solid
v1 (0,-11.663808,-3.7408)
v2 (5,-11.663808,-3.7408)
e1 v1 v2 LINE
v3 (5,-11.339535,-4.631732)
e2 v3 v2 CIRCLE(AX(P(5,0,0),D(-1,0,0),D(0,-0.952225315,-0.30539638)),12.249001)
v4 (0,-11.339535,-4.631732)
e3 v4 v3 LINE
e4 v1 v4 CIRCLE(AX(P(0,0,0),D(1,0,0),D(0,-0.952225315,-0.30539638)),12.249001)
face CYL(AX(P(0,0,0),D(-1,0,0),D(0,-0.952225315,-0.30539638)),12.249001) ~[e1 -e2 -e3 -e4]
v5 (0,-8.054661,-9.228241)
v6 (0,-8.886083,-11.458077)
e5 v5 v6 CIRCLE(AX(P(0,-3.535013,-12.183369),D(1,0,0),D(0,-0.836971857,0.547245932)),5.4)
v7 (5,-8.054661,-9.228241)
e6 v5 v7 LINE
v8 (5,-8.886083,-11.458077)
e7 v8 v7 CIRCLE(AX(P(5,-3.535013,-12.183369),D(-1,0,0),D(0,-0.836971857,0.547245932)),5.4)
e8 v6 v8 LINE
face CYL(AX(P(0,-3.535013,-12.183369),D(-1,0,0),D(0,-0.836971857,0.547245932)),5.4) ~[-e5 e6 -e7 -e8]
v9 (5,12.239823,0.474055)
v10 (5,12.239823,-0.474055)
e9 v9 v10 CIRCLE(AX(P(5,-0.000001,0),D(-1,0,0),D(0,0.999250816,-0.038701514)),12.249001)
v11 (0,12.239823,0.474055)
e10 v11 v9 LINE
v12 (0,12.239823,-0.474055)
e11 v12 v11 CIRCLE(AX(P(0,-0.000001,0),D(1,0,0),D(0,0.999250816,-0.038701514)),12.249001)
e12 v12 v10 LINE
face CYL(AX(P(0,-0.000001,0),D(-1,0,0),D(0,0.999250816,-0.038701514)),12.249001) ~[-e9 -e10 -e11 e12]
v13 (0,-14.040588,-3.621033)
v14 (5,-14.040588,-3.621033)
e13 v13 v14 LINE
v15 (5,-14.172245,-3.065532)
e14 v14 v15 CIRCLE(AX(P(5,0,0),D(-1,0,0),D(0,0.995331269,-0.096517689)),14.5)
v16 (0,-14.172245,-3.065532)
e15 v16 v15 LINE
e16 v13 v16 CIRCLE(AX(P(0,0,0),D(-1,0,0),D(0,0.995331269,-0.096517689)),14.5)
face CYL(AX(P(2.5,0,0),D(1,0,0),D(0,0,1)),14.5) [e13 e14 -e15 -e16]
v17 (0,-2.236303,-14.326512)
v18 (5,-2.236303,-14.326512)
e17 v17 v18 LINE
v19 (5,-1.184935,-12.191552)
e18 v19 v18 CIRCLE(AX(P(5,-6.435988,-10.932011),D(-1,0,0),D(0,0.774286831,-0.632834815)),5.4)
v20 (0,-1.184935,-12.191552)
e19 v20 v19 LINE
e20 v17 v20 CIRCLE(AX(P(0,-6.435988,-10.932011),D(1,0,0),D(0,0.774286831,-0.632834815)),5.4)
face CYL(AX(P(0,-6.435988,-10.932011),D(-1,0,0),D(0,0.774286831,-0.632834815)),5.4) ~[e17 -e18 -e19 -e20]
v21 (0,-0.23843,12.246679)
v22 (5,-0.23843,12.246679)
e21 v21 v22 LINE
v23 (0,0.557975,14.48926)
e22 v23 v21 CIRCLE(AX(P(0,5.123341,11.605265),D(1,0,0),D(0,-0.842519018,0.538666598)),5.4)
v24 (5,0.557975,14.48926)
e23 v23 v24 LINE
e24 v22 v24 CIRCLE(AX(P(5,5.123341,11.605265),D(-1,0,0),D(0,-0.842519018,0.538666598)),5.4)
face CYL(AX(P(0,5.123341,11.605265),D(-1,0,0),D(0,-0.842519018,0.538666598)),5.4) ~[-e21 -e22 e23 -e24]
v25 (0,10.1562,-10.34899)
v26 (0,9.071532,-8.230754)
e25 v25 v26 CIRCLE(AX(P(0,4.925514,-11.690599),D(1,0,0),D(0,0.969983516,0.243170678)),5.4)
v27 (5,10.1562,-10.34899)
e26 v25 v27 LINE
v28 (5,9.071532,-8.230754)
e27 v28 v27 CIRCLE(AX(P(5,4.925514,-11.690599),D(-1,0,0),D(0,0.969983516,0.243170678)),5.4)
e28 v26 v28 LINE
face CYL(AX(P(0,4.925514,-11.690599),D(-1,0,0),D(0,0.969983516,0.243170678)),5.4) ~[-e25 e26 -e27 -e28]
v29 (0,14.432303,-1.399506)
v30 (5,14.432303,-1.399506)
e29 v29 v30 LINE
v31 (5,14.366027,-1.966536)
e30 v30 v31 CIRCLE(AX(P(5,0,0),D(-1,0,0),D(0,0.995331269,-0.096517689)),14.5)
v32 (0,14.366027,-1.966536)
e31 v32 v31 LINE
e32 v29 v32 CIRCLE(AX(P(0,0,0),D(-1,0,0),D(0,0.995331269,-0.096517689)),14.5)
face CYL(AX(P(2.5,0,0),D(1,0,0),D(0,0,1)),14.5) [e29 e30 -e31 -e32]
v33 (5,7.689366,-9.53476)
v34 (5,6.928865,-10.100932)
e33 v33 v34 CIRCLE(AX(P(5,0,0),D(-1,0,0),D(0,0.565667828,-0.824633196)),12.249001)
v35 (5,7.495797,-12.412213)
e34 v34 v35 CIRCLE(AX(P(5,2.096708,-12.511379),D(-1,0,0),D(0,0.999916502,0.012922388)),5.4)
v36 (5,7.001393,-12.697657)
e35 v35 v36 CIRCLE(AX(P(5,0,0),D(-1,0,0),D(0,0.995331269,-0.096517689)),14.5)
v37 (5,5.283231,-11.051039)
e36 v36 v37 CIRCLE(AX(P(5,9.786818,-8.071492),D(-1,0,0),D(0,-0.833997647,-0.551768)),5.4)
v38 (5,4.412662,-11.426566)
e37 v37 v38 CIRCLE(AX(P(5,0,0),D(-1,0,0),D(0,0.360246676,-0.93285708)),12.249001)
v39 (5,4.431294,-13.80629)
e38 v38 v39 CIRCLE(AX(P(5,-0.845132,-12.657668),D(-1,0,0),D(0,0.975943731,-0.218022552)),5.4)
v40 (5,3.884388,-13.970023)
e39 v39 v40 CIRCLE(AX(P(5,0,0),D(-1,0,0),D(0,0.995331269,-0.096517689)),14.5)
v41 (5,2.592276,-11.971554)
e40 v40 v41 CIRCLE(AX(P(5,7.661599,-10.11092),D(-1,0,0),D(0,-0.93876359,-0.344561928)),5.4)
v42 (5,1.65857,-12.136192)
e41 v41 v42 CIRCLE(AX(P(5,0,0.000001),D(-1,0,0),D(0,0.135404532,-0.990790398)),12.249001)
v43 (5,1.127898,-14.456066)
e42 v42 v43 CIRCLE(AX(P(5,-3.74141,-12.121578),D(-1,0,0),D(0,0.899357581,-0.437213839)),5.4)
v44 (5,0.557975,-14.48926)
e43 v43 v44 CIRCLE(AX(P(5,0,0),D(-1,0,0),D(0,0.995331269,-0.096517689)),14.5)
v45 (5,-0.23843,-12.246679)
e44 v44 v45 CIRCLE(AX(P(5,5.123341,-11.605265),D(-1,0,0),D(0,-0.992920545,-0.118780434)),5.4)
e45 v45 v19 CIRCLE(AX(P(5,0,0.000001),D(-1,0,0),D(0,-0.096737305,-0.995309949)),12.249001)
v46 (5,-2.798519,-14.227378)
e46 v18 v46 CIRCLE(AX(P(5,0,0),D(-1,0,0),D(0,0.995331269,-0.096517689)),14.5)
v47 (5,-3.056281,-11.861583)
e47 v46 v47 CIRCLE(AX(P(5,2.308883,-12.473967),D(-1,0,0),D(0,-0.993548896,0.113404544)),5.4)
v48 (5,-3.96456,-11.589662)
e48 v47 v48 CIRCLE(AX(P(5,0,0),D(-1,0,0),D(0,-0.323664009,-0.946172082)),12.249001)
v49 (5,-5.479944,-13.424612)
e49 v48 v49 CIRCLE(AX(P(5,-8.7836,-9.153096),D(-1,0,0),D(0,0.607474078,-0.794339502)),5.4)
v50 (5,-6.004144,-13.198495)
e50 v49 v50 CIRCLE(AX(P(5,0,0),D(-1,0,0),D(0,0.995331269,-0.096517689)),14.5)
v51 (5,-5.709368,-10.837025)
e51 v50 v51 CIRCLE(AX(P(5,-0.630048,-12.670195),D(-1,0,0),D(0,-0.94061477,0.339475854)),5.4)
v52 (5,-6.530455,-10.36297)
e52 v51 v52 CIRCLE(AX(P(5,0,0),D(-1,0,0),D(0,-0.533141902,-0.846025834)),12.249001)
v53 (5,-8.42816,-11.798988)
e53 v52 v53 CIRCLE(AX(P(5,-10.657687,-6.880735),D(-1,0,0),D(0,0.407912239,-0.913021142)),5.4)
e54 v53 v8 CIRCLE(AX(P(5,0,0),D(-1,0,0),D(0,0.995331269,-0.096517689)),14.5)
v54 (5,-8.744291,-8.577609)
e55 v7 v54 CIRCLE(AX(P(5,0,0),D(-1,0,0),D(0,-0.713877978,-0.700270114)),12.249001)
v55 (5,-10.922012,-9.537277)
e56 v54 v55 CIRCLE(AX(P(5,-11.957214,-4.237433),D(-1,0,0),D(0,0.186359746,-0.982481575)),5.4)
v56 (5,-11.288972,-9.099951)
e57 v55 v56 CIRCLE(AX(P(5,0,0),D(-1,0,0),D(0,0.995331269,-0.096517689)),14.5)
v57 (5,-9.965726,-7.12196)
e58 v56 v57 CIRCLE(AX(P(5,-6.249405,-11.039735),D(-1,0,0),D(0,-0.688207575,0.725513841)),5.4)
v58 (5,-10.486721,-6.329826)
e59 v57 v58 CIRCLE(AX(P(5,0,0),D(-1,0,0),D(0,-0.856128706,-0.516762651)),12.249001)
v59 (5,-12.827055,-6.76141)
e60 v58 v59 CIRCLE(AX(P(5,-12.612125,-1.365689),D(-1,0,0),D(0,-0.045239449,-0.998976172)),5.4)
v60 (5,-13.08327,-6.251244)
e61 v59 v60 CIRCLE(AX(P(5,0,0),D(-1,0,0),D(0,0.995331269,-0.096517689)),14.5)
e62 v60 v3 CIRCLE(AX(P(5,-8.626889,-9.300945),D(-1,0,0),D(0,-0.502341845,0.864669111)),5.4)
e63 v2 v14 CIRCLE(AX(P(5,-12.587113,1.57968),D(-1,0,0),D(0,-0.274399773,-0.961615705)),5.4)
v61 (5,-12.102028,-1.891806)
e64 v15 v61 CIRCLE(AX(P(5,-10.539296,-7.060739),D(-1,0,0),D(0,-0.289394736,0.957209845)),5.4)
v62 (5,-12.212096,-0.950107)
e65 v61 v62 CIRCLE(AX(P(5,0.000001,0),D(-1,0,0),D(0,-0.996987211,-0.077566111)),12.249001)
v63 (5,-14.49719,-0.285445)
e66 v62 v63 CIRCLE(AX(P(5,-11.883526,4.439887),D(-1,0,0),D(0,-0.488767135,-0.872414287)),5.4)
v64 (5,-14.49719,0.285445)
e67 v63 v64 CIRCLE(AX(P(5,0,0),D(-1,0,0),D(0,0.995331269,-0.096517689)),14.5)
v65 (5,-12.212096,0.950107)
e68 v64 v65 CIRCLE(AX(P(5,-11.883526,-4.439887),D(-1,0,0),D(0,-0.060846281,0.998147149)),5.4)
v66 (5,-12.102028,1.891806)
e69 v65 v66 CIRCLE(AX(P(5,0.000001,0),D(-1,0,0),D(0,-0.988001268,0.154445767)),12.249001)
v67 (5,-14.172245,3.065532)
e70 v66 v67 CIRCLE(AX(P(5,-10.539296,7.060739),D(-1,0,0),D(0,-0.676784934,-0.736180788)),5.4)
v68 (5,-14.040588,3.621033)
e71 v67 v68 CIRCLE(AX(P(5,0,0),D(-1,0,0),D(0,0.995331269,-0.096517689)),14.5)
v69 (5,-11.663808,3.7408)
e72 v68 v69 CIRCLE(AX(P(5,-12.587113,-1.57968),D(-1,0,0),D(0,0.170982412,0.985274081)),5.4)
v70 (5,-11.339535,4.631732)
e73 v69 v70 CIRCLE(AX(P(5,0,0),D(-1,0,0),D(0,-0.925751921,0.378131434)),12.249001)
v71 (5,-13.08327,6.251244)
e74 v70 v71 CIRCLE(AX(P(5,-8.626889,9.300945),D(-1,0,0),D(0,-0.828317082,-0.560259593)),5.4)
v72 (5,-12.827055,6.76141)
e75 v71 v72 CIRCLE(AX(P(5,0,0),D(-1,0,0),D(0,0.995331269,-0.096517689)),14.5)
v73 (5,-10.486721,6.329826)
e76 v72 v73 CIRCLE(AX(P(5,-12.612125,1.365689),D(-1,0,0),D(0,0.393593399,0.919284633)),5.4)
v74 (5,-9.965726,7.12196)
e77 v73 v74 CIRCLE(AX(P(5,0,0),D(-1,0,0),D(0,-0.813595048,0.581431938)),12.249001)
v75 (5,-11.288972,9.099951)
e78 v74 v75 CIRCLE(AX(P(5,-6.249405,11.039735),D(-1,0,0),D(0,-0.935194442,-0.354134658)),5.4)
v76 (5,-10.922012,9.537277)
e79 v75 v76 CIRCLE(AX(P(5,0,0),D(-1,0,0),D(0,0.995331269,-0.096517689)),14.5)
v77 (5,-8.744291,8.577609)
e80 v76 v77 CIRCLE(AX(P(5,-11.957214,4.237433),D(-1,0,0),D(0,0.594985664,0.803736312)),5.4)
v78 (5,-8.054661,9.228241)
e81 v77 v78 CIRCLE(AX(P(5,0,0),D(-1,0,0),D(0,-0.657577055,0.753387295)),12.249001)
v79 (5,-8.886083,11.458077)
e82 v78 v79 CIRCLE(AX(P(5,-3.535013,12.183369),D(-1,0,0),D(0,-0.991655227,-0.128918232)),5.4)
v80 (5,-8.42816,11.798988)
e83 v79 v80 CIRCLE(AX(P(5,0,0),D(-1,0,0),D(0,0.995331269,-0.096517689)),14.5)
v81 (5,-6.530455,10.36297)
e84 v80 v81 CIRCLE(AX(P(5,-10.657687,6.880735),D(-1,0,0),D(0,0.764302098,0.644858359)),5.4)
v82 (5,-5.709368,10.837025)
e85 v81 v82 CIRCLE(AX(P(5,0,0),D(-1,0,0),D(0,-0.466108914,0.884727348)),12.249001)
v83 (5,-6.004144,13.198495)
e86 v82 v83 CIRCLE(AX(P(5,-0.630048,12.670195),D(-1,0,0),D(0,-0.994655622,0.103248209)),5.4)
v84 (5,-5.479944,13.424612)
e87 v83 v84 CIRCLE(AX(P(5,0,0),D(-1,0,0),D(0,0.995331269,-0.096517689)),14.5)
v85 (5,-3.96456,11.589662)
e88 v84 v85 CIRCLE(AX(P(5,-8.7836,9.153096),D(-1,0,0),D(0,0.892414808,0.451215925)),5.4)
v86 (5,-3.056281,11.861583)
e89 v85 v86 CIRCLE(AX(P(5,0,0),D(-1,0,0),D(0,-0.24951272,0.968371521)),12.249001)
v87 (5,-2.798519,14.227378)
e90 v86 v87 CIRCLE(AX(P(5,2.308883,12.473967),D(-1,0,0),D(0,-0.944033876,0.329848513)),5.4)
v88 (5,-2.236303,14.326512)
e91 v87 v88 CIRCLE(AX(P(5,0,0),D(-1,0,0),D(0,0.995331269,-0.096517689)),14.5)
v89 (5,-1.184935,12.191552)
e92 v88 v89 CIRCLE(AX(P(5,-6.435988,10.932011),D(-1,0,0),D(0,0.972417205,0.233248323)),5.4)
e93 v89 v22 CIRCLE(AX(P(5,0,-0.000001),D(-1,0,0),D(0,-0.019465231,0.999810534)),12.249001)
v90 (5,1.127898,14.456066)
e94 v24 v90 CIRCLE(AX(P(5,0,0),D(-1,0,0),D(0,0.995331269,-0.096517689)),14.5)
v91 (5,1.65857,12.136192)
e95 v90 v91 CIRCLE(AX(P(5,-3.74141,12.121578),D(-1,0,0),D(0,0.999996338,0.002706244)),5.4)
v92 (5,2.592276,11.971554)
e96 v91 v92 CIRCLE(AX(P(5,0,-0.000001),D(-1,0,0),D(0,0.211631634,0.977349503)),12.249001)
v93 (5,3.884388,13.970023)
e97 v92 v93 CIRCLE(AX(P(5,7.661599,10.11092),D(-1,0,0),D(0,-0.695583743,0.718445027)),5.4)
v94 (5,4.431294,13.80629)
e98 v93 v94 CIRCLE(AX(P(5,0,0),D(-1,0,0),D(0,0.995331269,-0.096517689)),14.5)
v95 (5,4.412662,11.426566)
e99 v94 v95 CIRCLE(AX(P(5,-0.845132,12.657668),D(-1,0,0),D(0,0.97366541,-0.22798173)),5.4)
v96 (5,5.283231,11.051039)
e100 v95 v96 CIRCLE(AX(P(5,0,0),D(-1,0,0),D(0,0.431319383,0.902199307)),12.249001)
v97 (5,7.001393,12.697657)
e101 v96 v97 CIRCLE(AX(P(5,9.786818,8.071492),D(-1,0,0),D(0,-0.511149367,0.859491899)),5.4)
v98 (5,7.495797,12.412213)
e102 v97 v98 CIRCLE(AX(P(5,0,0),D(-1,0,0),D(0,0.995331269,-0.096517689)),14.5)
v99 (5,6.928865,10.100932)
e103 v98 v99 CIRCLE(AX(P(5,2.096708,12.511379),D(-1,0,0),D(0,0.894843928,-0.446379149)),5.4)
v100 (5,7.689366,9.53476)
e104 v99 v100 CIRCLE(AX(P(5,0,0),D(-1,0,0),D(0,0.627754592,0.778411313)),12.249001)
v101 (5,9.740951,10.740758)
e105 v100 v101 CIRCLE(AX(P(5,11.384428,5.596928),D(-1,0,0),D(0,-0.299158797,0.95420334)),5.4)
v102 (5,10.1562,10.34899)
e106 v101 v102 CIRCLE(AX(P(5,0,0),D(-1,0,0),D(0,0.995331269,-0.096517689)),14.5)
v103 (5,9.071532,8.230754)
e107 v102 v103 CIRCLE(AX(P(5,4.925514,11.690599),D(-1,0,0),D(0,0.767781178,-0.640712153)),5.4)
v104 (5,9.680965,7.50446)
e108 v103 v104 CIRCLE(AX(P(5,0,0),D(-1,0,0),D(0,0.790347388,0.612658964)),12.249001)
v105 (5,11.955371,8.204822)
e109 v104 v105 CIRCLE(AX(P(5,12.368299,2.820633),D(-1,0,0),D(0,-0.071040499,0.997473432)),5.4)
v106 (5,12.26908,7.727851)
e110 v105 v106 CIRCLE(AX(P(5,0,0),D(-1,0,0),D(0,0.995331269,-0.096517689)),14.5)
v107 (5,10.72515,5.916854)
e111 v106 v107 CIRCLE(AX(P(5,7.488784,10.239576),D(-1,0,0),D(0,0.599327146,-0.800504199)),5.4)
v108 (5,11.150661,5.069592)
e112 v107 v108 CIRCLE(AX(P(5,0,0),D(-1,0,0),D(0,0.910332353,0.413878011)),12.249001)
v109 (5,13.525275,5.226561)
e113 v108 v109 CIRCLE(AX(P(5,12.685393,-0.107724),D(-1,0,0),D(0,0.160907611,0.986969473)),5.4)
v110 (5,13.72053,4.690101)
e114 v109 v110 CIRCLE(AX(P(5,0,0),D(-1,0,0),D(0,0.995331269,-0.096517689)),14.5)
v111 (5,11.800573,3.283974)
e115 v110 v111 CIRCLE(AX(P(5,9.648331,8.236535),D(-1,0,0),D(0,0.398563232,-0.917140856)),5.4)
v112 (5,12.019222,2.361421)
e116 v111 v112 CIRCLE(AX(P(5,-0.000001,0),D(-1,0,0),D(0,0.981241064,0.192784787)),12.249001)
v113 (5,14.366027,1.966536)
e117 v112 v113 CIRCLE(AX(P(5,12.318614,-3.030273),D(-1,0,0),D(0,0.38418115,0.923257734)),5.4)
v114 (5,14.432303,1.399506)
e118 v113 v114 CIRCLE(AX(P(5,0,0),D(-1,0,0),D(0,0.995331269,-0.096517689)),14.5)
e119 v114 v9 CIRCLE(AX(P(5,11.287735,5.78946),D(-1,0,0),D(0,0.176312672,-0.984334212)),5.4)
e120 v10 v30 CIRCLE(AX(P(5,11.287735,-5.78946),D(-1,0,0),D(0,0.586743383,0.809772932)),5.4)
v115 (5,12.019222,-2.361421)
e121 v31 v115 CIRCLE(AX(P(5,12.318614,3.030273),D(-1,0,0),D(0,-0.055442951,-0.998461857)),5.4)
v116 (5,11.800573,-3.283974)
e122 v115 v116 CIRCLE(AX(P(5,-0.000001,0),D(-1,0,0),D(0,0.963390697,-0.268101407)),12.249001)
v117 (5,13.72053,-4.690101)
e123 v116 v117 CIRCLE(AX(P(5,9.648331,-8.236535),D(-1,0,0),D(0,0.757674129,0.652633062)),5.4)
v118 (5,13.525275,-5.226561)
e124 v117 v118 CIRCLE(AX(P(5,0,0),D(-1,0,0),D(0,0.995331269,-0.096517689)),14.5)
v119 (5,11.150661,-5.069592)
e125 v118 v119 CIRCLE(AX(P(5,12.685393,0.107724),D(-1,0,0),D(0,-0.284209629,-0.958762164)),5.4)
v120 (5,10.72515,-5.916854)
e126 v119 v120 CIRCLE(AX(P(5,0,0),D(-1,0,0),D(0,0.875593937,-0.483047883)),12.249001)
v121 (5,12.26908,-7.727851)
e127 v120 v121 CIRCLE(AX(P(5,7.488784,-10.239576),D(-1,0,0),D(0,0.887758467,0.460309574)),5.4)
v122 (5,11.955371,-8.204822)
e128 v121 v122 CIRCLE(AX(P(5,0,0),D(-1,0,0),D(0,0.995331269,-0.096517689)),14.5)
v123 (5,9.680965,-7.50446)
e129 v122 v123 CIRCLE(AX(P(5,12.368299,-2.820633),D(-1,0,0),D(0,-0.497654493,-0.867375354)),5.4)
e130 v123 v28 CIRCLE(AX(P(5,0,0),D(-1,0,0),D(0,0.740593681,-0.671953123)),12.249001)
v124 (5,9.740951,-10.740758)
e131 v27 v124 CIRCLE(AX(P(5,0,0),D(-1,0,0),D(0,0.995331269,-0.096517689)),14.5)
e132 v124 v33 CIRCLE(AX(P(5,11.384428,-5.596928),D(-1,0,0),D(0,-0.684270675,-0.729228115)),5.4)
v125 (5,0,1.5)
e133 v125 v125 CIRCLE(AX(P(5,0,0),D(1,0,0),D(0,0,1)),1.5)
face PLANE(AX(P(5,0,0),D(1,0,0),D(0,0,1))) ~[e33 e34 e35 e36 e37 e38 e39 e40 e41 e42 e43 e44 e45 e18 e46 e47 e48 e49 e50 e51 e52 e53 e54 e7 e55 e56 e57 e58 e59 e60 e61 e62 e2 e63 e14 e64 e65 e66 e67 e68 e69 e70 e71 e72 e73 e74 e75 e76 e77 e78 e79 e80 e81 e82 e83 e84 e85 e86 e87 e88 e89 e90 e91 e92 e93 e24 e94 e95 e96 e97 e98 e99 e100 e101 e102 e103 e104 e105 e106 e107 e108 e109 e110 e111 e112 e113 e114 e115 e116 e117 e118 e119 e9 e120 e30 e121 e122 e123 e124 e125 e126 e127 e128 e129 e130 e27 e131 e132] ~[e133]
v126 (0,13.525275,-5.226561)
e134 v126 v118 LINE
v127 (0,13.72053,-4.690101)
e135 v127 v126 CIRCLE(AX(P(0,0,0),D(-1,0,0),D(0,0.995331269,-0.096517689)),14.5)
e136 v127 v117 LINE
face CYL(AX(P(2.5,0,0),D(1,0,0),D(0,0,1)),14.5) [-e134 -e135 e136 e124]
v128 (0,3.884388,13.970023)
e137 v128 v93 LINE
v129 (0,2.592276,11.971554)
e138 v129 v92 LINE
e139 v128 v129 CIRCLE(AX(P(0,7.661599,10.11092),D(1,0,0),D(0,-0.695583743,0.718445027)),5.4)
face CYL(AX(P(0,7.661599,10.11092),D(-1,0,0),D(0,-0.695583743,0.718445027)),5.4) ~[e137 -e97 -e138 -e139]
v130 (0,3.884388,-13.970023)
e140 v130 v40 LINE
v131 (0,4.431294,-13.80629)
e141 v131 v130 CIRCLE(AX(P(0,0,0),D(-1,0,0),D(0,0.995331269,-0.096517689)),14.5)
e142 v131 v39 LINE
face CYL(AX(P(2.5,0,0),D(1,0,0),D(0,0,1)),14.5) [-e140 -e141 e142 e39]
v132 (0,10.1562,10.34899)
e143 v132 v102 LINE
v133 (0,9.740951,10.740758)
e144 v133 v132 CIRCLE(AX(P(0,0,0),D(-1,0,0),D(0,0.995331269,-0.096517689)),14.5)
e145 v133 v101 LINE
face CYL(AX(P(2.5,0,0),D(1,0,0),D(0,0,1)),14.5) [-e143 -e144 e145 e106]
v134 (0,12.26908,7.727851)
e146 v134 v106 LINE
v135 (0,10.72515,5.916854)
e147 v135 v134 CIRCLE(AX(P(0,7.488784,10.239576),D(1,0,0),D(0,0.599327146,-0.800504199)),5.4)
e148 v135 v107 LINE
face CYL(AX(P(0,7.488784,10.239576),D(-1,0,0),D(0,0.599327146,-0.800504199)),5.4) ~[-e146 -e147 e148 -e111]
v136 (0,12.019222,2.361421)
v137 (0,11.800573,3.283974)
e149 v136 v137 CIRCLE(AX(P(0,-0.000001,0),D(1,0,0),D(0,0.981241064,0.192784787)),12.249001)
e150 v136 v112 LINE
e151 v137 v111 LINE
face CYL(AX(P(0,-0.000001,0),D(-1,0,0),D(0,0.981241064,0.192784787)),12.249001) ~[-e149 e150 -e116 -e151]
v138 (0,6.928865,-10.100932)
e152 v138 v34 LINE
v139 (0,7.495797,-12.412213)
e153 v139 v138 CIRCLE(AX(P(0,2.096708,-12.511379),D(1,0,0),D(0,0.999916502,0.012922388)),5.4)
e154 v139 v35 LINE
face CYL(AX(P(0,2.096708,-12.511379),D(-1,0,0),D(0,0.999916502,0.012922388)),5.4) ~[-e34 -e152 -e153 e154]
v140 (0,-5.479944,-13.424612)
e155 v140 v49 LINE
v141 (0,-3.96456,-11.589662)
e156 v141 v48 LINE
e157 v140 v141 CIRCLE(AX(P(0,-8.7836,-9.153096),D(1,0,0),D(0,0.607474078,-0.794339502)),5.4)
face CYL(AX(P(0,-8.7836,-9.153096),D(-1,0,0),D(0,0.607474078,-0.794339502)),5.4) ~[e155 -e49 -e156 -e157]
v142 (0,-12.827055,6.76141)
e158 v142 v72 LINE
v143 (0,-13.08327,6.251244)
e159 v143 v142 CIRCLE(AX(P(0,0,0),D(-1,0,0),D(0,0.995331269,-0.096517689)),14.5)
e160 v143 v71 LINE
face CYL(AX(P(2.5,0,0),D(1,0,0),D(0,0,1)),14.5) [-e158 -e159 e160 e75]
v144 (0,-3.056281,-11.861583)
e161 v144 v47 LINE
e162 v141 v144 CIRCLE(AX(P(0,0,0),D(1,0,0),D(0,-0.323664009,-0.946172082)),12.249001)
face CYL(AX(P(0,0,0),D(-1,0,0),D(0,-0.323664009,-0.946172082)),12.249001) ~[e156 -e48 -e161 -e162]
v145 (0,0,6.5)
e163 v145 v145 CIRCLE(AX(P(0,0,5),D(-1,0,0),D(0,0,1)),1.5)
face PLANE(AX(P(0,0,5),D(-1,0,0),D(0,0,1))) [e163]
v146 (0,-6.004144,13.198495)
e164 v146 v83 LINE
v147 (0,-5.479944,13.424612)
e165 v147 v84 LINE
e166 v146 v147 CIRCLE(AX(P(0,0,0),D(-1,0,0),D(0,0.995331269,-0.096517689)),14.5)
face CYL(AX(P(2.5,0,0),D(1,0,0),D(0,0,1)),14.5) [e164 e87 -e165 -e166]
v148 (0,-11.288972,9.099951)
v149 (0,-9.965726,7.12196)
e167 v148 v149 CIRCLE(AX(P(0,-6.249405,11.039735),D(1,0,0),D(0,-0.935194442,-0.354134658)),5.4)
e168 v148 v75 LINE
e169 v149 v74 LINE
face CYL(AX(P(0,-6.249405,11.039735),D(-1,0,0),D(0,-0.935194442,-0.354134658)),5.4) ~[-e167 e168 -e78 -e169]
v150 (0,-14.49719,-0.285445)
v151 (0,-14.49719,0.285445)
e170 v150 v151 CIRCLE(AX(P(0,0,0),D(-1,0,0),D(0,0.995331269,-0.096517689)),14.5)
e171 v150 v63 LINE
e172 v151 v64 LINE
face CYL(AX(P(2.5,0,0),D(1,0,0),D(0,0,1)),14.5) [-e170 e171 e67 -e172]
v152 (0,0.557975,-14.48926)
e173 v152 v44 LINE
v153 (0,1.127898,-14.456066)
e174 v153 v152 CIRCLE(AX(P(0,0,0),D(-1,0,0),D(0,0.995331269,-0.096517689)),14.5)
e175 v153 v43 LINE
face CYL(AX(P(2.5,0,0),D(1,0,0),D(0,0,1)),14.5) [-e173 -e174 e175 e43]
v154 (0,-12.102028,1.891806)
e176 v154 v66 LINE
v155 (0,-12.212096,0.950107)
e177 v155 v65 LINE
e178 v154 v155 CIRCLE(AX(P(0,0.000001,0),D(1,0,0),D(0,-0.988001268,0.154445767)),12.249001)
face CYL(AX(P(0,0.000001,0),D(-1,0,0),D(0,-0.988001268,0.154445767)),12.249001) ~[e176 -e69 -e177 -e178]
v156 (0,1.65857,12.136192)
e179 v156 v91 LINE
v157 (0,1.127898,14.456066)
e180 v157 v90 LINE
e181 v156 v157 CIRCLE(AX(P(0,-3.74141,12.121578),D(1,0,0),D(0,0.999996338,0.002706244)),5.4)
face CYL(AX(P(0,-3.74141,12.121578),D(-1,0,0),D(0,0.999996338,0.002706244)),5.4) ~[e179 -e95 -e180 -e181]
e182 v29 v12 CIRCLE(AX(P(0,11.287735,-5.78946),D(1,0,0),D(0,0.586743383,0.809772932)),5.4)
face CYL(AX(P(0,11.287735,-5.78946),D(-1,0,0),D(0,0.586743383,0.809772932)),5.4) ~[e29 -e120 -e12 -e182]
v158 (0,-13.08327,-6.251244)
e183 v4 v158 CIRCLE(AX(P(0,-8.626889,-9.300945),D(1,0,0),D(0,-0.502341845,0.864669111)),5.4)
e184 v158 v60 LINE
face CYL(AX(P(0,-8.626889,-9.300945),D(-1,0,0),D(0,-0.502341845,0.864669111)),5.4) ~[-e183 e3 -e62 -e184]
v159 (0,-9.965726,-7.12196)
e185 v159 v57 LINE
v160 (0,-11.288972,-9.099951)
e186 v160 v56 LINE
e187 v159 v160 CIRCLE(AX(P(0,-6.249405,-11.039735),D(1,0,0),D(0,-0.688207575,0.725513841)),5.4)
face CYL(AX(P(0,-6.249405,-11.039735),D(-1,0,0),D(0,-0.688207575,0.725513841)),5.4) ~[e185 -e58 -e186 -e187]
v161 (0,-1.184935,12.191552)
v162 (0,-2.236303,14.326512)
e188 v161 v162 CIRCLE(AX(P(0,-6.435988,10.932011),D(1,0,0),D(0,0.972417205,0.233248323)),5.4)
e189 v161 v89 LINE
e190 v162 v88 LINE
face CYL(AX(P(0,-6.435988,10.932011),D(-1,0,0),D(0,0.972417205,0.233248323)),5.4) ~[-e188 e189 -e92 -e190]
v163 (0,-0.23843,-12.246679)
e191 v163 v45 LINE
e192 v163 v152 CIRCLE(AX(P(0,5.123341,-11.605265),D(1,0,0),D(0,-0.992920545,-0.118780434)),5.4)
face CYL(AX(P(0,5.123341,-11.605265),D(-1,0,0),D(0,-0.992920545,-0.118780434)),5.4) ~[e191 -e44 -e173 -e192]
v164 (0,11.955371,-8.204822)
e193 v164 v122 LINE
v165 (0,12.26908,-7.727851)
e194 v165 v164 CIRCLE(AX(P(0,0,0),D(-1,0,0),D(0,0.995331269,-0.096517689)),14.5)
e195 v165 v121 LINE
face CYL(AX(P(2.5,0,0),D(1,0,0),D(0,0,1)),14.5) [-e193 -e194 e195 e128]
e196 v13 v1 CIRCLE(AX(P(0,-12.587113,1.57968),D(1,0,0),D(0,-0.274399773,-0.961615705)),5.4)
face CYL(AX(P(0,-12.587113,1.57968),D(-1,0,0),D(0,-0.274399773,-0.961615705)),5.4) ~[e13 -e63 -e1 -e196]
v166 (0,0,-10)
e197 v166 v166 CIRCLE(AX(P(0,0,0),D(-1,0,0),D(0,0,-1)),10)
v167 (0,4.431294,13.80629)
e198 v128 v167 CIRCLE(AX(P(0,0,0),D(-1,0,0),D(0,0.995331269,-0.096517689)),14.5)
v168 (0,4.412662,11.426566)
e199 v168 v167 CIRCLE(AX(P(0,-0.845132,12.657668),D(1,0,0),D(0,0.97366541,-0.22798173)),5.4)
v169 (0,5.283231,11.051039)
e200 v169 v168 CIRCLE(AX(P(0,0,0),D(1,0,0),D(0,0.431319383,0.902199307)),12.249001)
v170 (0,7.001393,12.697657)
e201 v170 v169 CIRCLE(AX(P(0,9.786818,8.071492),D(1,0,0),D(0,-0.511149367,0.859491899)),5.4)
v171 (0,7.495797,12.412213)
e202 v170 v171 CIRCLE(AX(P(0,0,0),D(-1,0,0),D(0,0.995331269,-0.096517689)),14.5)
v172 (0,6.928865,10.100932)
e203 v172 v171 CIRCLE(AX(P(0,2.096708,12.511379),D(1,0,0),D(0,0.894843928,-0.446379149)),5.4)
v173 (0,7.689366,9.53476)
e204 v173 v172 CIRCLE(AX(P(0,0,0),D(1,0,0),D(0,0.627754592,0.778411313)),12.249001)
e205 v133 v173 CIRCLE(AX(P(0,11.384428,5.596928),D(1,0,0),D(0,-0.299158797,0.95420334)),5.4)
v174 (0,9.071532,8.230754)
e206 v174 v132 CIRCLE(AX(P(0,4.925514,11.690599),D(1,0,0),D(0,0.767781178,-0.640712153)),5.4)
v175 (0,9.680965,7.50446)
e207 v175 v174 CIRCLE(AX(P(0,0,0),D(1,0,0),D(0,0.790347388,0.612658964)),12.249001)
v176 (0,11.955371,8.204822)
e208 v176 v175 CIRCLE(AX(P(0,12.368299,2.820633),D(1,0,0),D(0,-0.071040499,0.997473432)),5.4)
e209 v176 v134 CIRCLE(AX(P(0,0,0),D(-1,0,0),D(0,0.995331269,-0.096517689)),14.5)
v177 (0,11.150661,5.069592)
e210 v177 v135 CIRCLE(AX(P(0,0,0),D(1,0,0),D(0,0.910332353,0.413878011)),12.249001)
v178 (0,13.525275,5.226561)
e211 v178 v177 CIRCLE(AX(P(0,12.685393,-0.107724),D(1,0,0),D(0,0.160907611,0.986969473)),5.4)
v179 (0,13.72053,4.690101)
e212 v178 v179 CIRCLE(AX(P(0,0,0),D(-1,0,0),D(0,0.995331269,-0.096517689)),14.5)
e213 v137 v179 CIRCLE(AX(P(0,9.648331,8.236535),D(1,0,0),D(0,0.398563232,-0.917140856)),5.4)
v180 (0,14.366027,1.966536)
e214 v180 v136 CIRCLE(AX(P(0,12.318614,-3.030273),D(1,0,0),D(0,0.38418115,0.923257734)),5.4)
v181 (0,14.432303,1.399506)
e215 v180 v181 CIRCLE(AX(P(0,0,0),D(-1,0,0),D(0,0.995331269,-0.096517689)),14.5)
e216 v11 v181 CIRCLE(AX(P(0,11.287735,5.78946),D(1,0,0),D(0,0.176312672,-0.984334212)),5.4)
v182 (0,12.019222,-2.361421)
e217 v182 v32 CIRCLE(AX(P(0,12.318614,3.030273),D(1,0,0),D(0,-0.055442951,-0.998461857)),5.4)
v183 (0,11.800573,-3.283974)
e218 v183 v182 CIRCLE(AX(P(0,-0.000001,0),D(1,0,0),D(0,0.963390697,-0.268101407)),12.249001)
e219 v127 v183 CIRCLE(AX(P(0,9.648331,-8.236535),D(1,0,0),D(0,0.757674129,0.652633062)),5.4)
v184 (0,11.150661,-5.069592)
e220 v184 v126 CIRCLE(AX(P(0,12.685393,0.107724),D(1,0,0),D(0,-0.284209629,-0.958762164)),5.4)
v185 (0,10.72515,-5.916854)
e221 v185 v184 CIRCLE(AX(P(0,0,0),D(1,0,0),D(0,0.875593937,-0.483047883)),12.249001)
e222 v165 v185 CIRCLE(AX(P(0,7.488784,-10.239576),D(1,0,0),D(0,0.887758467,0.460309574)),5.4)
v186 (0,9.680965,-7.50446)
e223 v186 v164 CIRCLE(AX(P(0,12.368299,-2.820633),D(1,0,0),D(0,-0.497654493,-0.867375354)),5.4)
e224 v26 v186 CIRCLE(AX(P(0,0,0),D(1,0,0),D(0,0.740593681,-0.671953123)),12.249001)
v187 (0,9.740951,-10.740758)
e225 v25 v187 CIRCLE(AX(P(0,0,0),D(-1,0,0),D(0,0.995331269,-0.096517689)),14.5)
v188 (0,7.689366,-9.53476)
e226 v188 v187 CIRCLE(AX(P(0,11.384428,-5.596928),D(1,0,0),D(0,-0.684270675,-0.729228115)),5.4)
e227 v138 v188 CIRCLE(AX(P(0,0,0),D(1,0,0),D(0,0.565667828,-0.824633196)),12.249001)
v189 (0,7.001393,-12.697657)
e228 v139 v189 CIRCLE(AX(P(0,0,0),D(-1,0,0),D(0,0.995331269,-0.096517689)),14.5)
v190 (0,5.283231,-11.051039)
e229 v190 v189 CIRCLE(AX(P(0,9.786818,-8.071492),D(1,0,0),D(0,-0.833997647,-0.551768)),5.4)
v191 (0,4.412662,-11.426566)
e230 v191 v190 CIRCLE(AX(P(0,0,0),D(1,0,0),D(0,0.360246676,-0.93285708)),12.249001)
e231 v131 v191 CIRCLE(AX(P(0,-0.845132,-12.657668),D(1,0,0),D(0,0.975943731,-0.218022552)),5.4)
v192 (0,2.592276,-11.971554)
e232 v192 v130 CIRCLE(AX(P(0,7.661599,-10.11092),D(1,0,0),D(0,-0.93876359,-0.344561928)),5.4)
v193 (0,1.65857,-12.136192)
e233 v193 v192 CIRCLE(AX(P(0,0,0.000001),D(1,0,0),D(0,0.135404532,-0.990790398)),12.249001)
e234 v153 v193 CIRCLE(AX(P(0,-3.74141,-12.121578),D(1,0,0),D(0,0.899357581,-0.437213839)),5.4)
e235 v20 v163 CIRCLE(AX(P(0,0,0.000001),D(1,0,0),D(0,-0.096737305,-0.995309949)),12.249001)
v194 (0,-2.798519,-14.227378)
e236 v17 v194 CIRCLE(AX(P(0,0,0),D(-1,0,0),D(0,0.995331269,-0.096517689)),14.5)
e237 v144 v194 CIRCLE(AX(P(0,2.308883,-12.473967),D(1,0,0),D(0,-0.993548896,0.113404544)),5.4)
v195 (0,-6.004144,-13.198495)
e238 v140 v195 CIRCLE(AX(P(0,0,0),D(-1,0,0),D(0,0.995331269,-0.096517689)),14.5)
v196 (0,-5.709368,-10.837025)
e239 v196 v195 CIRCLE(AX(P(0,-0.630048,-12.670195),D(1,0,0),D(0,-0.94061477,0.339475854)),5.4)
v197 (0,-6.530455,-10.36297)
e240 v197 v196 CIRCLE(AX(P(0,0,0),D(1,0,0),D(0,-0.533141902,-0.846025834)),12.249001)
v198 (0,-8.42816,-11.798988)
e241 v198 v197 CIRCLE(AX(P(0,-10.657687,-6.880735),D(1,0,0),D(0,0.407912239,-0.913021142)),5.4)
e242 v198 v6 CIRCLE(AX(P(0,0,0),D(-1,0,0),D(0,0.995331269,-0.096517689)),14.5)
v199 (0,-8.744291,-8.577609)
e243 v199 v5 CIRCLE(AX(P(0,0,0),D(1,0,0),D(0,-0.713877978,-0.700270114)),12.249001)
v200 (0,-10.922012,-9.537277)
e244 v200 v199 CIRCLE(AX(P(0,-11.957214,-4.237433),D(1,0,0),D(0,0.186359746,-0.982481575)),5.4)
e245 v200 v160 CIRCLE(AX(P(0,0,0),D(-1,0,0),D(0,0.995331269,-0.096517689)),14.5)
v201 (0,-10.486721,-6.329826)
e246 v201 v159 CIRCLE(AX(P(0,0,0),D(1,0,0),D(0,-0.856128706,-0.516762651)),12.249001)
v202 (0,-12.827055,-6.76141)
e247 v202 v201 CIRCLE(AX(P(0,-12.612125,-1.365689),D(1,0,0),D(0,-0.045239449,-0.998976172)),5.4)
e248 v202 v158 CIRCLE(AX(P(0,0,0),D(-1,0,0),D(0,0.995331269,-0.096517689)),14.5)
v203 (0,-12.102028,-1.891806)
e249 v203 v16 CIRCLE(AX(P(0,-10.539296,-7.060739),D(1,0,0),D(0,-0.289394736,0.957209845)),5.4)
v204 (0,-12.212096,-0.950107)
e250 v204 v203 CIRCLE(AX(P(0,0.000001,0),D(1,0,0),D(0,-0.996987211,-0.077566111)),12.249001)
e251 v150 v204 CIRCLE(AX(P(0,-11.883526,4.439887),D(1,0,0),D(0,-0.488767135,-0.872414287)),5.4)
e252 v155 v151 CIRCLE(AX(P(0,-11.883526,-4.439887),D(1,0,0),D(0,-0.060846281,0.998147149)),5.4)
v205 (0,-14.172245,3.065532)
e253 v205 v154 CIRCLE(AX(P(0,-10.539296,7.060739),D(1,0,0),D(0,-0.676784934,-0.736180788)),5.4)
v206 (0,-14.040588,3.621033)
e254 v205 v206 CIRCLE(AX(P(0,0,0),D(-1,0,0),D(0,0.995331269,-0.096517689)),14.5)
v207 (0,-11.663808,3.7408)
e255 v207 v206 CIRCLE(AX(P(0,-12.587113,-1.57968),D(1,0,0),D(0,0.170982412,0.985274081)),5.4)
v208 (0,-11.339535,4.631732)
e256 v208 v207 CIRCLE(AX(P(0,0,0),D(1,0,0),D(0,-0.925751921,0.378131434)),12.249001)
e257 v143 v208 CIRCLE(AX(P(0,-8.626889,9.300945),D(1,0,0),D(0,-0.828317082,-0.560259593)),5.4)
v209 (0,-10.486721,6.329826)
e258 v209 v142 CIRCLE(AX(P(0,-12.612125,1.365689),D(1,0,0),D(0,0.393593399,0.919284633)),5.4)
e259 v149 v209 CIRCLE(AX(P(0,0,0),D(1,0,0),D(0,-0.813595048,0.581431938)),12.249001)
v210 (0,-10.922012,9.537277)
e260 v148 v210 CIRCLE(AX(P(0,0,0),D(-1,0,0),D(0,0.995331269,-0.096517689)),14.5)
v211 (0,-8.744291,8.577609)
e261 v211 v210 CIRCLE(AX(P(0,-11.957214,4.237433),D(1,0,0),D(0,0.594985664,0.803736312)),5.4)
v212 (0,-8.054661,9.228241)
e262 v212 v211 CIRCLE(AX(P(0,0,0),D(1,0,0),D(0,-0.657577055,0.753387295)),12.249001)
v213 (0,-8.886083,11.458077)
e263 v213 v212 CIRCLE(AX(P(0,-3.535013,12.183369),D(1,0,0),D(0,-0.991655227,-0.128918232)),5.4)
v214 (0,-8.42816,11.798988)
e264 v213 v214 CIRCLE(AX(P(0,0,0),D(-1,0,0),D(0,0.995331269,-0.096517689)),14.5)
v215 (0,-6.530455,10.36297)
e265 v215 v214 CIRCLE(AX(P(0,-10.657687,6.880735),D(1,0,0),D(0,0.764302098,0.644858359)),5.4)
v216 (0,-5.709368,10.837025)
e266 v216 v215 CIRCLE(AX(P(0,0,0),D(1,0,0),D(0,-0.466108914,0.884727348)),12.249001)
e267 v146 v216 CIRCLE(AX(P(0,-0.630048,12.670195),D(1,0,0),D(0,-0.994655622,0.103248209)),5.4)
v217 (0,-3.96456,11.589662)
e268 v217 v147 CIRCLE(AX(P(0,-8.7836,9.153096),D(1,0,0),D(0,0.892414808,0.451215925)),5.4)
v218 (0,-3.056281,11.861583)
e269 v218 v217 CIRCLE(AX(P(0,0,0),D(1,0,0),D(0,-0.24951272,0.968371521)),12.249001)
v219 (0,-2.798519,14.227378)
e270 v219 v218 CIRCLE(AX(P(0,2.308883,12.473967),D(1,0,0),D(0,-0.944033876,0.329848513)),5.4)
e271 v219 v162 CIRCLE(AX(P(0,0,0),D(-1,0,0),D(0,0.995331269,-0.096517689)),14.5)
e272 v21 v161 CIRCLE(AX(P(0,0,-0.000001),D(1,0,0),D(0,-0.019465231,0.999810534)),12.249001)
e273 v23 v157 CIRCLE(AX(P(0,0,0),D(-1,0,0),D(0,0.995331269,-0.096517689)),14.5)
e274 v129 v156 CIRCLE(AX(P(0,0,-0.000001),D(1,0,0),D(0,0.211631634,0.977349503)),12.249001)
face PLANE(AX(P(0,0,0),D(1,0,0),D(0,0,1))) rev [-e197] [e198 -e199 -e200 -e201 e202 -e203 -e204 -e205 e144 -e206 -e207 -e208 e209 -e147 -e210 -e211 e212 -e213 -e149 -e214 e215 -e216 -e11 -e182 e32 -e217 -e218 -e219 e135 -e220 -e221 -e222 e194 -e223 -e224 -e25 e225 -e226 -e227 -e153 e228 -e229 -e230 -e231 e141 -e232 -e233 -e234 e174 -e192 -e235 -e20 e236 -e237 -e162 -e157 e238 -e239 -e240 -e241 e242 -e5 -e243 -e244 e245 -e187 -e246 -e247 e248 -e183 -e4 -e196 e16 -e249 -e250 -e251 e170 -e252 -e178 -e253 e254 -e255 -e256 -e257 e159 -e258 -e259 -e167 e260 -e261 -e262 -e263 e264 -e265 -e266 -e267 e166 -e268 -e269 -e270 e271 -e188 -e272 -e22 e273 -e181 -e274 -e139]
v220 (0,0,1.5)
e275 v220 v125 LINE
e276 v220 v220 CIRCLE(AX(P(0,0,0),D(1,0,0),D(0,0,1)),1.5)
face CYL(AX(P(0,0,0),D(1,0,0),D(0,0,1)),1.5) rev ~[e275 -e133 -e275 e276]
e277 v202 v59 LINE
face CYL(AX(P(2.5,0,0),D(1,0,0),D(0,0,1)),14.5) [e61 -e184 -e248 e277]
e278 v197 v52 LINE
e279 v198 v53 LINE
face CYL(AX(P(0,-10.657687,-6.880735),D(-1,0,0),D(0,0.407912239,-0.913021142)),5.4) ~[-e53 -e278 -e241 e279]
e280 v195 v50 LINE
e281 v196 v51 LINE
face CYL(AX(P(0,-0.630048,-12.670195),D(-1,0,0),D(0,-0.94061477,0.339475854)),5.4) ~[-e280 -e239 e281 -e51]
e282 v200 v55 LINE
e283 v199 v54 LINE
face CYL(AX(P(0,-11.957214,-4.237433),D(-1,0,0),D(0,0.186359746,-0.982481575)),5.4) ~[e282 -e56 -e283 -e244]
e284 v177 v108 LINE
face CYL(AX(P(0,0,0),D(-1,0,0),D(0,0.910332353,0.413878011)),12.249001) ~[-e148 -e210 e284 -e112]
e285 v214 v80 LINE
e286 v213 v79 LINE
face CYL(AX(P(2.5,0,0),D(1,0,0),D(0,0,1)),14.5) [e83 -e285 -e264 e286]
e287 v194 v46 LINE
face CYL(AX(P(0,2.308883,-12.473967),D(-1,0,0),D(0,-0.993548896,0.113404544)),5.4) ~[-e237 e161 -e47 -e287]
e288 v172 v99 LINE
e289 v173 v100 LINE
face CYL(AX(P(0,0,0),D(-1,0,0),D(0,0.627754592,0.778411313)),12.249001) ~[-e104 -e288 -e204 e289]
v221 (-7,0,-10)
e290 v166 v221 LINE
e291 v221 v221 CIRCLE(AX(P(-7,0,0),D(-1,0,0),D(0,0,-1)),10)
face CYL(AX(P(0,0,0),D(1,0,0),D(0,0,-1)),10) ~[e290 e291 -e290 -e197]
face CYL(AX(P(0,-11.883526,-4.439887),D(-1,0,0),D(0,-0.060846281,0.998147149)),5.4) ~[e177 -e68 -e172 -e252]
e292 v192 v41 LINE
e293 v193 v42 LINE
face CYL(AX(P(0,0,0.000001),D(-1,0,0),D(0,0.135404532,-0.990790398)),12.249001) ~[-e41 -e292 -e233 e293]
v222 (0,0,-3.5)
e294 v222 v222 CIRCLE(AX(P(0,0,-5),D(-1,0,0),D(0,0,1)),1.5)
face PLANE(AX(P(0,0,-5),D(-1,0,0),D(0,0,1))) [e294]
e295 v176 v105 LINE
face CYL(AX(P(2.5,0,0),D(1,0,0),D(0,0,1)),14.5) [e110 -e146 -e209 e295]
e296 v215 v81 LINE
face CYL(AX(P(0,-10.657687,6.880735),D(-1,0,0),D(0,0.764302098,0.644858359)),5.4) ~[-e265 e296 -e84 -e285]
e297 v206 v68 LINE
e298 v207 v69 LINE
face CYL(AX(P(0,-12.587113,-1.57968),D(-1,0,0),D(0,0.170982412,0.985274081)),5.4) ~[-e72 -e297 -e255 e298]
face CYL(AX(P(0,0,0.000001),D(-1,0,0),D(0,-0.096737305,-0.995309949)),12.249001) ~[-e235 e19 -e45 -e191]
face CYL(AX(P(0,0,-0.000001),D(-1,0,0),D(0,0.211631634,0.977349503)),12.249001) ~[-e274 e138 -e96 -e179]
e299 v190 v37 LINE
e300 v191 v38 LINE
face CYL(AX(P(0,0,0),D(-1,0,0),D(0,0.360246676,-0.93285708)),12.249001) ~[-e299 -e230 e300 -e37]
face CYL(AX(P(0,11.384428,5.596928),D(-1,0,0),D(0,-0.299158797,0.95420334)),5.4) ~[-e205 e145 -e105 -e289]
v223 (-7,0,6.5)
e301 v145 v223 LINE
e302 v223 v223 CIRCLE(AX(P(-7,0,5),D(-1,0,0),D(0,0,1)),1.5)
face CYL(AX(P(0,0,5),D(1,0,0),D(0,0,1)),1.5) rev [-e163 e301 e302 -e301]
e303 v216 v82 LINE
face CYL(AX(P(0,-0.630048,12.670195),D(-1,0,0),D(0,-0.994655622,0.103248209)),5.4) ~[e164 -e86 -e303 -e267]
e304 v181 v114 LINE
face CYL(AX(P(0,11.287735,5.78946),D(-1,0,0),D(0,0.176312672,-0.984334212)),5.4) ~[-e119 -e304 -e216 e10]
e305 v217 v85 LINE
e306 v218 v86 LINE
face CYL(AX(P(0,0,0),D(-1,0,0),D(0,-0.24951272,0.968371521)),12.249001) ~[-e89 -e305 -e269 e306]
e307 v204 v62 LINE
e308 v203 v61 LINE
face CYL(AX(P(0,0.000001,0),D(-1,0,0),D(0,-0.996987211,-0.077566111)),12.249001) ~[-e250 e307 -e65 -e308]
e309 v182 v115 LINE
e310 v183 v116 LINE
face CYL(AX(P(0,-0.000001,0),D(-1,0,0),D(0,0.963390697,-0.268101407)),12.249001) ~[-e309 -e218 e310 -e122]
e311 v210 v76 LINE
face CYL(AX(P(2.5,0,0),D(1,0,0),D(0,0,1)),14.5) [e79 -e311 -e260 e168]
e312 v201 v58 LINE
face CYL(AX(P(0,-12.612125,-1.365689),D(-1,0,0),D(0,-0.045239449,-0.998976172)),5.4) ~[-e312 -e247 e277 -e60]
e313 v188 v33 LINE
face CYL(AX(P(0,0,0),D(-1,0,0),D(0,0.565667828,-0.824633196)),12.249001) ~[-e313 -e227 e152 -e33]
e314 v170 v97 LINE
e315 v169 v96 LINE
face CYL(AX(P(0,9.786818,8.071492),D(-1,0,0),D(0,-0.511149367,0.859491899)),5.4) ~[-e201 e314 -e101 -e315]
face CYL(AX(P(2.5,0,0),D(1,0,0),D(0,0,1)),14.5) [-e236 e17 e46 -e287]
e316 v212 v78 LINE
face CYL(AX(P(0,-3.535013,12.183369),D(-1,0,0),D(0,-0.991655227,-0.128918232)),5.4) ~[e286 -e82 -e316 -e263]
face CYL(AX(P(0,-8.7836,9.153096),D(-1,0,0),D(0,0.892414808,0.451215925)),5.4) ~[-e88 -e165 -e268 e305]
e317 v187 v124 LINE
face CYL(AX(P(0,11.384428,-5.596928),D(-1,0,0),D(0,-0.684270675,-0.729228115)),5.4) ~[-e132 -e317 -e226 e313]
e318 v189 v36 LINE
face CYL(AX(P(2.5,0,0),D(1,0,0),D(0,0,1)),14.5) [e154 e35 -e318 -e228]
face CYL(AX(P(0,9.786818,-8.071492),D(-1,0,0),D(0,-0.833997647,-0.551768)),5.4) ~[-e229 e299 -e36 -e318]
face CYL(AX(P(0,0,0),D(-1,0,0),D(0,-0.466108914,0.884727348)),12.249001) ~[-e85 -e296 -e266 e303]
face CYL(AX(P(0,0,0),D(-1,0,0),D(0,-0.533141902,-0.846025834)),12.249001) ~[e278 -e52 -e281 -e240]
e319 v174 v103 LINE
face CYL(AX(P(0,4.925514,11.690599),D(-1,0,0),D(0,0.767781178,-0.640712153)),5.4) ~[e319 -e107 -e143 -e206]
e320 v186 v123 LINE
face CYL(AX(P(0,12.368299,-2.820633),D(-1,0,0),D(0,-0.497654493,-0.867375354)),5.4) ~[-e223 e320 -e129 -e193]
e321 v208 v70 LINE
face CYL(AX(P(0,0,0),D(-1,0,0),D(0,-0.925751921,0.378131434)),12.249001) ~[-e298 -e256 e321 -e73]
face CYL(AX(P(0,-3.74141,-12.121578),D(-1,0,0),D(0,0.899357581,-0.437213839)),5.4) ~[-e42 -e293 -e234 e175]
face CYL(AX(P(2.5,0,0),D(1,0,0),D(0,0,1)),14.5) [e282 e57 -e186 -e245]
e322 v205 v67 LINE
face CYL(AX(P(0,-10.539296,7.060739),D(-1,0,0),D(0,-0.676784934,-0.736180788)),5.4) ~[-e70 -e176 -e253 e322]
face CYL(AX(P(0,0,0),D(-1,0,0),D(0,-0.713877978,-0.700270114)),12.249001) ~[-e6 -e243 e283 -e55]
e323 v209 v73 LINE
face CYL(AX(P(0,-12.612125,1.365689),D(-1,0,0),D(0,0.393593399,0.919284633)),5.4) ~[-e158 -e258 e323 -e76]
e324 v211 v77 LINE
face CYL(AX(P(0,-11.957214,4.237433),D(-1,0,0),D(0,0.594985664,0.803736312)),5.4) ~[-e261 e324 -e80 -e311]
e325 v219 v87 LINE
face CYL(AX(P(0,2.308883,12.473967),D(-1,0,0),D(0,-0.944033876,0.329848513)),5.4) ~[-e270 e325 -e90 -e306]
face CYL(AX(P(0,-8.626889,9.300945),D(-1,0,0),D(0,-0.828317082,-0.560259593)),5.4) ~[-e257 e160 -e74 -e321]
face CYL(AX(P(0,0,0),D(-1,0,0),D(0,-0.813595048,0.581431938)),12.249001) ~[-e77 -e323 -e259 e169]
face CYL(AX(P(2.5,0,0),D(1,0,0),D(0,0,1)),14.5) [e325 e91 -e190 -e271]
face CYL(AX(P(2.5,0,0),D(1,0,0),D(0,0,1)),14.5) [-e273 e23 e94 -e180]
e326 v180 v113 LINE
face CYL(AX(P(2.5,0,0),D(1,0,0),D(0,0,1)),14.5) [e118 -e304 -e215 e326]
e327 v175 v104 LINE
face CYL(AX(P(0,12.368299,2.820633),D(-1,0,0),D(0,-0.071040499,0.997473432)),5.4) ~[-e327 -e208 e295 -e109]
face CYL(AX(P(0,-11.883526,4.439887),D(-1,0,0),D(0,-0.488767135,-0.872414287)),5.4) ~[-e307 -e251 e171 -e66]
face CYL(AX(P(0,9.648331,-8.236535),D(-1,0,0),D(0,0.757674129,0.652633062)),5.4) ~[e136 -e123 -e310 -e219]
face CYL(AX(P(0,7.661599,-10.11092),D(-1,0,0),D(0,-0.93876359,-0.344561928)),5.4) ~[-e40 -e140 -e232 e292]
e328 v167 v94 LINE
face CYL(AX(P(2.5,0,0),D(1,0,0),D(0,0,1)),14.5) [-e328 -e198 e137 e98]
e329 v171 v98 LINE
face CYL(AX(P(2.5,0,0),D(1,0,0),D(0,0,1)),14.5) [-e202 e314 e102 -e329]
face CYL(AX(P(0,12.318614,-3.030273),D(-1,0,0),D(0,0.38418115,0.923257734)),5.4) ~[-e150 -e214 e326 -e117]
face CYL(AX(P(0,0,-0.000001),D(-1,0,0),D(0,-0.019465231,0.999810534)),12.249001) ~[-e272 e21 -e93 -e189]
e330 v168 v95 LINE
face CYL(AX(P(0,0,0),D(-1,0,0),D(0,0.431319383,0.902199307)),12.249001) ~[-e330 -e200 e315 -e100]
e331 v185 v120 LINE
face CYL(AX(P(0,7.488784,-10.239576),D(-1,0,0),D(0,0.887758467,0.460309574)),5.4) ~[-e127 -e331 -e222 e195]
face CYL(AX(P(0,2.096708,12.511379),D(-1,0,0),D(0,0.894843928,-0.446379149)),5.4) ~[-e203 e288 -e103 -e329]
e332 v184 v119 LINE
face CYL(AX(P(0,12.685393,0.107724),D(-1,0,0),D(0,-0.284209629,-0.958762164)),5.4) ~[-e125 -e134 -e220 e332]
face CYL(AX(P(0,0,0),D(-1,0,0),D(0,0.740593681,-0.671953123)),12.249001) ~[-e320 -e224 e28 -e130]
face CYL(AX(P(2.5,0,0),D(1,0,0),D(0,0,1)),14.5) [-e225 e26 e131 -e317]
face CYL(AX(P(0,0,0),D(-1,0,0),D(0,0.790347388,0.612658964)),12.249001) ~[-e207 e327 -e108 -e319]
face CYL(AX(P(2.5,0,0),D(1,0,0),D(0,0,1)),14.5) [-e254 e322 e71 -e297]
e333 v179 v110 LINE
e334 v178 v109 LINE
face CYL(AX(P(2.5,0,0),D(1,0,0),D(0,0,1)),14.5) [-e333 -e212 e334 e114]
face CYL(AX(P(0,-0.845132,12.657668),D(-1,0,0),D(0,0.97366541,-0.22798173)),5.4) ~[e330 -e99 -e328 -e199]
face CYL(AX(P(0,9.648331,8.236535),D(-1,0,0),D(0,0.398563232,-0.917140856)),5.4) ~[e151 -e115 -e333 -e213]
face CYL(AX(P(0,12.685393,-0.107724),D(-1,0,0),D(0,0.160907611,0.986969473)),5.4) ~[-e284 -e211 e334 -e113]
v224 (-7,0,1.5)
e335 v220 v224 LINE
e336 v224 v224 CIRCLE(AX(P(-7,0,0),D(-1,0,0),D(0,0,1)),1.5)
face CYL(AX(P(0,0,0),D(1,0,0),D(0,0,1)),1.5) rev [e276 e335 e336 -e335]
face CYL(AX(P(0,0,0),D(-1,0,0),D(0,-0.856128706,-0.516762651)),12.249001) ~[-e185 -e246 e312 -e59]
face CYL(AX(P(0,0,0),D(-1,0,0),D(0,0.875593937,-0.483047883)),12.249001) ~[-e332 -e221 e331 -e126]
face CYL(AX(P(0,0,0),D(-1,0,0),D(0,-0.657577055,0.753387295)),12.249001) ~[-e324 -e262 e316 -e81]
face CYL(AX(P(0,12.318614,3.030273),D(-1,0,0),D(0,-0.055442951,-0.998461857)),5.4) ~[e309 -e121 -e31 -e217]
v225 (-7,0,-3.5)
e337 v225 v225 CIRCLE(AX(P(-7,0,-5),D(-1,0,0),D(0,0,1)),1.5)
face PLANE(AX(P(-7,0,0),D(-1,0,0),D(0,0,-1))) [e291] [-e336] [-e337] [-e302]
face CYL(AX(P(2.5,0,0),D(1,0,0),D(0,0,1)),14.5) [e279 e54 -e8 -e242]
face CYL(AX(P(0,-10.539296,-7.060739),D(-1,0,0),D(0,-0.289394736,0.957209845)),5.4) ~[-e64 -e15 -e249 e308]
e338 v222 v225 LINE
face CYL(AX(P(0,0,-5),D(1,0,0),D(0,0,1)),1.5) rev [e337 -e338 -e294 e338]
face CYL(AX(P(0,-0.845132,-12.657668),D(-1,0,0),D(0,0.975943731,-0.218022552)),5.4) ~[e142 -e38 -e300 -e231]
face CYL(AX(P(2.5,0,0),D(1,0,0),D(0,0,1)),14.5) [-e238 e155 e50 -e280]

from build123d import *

# Parameters (mm, degrees)
BASPROSKE_W         = 5
BASPROSKE_H         = 14.5
TOOTHCUT_DEPTH      = 22.106870919
TEETHCUTS_COUNT     = 27
TEETHCUTS_ANGLE     = 346.666666667
BORSKE_R            = 1.5
BORE_DEPTH          = 50.0000508
SKETCH2_R           = 10
BOSS_EXTRUDE1_DEPTH = 7
CUT_EXTRUDE3_START  = -7
SKETCH3_R           = 1.5
CUT_EXTRUDE3_DEPTH  = 7


with BuildPart() as part:
    # BasProSke → Base-Revolve (revolve)
    with BuildSketch(Plane(origin=(0, 0, 0), x_dir=(1, 0, 0), z_dir=(0, 1, 0)), mode=Mode.PRIVATE) as base_revolve_sk:
        with Locations((2.5, 7.25)):
            Rectangle(BASPROSKE_W, BASPROSKE_H)
    revolve(base_revolve_sk.sketch.rotate(Axis((-10, 0, 0), (1, 0, 0)), 180), axis=Axis((-10, 0, 0), (1, 0, 0)))

    # TooCutSke → ToothCut (cut, through all)
    with BuildSketch(Plane(origin=(0, 0, 0), x_dir=(0, 0, -1), z_dir=(1, 0, 0))):
        with BuildLine():
            ThreePointArc((0.474054864, 12.239823242), (0, 12.249), (-0.474054864, 12.239823242))
            ThreePointArc((-0.474054864, 12.239823242), (-0.820231692, 13.40120918), (-1.416685779, 14.456149092))
            ThreePointArc((-1.416685779, 14.456149092), (0, 14.5254), (1.416685779, 14.456149092))
            ThreePointArc((1.416685779, 14.456149092), (0.820231692, 13.40120918), (0.474054864, 12.239823242))
        make_face()
    toothcut = extrude(amount=TOOTHCUT_DEPTH, mode=Mode.SUBTRACT)

    # TeethCuts: ToothCut ×27 about axis
    teethcuts_axis = Axis((-10, 0, 0), (1, 0, 0))
    for i in range(1, TEETHCUTS_COUNT):
        add(toothcut.rotate(teethcuts_axis, i * TEETHCUTS_ANGLE / (TEETHCUTS_COUNT - 1)), mode=Mode.SUBTRACT)

    # BorSke → Bore (cut, symmetric)
    with BuildSketch(Plane(origin=(0, 0, 0), x_dir=(0, 0, -1), z_dir=(1, 0, 0))):
        with Locations(Location((0, 0, 0), (0, 0, 180))):
            Circle(BORSKE_R)
    extrude(amount=BORE_DEPTH, both=True, mode=Mode.SUBTRACT)

    # Sketch2 → Boss-Extrude1 (add)
    with BuildSketch(Plane.ZY):
        with Locations(Location((0, 0, 0), (0, 0, 180))):
            Circle(SKETCH2_R)
    extrude(amount=BOSS_EXTRUDE1_DEPTH)

    # Sketch3 → Cut-Extrude3 (cut)
    with BuildSketch(Plane.ZY.offset(7).offset(CUT_EXTRUDE3_START)):
        Circle(SKETCH3_R)
        with Locations((5, 0)):
            Circle(SKETCH3_R)
        with Locations((-5, 0)):
            Circle(SKETCH3_R)
    extrude(amount=CUT_EXTRUDE3_DEPTH, mode=Mode.SUBTRACT)


solid = part.part
